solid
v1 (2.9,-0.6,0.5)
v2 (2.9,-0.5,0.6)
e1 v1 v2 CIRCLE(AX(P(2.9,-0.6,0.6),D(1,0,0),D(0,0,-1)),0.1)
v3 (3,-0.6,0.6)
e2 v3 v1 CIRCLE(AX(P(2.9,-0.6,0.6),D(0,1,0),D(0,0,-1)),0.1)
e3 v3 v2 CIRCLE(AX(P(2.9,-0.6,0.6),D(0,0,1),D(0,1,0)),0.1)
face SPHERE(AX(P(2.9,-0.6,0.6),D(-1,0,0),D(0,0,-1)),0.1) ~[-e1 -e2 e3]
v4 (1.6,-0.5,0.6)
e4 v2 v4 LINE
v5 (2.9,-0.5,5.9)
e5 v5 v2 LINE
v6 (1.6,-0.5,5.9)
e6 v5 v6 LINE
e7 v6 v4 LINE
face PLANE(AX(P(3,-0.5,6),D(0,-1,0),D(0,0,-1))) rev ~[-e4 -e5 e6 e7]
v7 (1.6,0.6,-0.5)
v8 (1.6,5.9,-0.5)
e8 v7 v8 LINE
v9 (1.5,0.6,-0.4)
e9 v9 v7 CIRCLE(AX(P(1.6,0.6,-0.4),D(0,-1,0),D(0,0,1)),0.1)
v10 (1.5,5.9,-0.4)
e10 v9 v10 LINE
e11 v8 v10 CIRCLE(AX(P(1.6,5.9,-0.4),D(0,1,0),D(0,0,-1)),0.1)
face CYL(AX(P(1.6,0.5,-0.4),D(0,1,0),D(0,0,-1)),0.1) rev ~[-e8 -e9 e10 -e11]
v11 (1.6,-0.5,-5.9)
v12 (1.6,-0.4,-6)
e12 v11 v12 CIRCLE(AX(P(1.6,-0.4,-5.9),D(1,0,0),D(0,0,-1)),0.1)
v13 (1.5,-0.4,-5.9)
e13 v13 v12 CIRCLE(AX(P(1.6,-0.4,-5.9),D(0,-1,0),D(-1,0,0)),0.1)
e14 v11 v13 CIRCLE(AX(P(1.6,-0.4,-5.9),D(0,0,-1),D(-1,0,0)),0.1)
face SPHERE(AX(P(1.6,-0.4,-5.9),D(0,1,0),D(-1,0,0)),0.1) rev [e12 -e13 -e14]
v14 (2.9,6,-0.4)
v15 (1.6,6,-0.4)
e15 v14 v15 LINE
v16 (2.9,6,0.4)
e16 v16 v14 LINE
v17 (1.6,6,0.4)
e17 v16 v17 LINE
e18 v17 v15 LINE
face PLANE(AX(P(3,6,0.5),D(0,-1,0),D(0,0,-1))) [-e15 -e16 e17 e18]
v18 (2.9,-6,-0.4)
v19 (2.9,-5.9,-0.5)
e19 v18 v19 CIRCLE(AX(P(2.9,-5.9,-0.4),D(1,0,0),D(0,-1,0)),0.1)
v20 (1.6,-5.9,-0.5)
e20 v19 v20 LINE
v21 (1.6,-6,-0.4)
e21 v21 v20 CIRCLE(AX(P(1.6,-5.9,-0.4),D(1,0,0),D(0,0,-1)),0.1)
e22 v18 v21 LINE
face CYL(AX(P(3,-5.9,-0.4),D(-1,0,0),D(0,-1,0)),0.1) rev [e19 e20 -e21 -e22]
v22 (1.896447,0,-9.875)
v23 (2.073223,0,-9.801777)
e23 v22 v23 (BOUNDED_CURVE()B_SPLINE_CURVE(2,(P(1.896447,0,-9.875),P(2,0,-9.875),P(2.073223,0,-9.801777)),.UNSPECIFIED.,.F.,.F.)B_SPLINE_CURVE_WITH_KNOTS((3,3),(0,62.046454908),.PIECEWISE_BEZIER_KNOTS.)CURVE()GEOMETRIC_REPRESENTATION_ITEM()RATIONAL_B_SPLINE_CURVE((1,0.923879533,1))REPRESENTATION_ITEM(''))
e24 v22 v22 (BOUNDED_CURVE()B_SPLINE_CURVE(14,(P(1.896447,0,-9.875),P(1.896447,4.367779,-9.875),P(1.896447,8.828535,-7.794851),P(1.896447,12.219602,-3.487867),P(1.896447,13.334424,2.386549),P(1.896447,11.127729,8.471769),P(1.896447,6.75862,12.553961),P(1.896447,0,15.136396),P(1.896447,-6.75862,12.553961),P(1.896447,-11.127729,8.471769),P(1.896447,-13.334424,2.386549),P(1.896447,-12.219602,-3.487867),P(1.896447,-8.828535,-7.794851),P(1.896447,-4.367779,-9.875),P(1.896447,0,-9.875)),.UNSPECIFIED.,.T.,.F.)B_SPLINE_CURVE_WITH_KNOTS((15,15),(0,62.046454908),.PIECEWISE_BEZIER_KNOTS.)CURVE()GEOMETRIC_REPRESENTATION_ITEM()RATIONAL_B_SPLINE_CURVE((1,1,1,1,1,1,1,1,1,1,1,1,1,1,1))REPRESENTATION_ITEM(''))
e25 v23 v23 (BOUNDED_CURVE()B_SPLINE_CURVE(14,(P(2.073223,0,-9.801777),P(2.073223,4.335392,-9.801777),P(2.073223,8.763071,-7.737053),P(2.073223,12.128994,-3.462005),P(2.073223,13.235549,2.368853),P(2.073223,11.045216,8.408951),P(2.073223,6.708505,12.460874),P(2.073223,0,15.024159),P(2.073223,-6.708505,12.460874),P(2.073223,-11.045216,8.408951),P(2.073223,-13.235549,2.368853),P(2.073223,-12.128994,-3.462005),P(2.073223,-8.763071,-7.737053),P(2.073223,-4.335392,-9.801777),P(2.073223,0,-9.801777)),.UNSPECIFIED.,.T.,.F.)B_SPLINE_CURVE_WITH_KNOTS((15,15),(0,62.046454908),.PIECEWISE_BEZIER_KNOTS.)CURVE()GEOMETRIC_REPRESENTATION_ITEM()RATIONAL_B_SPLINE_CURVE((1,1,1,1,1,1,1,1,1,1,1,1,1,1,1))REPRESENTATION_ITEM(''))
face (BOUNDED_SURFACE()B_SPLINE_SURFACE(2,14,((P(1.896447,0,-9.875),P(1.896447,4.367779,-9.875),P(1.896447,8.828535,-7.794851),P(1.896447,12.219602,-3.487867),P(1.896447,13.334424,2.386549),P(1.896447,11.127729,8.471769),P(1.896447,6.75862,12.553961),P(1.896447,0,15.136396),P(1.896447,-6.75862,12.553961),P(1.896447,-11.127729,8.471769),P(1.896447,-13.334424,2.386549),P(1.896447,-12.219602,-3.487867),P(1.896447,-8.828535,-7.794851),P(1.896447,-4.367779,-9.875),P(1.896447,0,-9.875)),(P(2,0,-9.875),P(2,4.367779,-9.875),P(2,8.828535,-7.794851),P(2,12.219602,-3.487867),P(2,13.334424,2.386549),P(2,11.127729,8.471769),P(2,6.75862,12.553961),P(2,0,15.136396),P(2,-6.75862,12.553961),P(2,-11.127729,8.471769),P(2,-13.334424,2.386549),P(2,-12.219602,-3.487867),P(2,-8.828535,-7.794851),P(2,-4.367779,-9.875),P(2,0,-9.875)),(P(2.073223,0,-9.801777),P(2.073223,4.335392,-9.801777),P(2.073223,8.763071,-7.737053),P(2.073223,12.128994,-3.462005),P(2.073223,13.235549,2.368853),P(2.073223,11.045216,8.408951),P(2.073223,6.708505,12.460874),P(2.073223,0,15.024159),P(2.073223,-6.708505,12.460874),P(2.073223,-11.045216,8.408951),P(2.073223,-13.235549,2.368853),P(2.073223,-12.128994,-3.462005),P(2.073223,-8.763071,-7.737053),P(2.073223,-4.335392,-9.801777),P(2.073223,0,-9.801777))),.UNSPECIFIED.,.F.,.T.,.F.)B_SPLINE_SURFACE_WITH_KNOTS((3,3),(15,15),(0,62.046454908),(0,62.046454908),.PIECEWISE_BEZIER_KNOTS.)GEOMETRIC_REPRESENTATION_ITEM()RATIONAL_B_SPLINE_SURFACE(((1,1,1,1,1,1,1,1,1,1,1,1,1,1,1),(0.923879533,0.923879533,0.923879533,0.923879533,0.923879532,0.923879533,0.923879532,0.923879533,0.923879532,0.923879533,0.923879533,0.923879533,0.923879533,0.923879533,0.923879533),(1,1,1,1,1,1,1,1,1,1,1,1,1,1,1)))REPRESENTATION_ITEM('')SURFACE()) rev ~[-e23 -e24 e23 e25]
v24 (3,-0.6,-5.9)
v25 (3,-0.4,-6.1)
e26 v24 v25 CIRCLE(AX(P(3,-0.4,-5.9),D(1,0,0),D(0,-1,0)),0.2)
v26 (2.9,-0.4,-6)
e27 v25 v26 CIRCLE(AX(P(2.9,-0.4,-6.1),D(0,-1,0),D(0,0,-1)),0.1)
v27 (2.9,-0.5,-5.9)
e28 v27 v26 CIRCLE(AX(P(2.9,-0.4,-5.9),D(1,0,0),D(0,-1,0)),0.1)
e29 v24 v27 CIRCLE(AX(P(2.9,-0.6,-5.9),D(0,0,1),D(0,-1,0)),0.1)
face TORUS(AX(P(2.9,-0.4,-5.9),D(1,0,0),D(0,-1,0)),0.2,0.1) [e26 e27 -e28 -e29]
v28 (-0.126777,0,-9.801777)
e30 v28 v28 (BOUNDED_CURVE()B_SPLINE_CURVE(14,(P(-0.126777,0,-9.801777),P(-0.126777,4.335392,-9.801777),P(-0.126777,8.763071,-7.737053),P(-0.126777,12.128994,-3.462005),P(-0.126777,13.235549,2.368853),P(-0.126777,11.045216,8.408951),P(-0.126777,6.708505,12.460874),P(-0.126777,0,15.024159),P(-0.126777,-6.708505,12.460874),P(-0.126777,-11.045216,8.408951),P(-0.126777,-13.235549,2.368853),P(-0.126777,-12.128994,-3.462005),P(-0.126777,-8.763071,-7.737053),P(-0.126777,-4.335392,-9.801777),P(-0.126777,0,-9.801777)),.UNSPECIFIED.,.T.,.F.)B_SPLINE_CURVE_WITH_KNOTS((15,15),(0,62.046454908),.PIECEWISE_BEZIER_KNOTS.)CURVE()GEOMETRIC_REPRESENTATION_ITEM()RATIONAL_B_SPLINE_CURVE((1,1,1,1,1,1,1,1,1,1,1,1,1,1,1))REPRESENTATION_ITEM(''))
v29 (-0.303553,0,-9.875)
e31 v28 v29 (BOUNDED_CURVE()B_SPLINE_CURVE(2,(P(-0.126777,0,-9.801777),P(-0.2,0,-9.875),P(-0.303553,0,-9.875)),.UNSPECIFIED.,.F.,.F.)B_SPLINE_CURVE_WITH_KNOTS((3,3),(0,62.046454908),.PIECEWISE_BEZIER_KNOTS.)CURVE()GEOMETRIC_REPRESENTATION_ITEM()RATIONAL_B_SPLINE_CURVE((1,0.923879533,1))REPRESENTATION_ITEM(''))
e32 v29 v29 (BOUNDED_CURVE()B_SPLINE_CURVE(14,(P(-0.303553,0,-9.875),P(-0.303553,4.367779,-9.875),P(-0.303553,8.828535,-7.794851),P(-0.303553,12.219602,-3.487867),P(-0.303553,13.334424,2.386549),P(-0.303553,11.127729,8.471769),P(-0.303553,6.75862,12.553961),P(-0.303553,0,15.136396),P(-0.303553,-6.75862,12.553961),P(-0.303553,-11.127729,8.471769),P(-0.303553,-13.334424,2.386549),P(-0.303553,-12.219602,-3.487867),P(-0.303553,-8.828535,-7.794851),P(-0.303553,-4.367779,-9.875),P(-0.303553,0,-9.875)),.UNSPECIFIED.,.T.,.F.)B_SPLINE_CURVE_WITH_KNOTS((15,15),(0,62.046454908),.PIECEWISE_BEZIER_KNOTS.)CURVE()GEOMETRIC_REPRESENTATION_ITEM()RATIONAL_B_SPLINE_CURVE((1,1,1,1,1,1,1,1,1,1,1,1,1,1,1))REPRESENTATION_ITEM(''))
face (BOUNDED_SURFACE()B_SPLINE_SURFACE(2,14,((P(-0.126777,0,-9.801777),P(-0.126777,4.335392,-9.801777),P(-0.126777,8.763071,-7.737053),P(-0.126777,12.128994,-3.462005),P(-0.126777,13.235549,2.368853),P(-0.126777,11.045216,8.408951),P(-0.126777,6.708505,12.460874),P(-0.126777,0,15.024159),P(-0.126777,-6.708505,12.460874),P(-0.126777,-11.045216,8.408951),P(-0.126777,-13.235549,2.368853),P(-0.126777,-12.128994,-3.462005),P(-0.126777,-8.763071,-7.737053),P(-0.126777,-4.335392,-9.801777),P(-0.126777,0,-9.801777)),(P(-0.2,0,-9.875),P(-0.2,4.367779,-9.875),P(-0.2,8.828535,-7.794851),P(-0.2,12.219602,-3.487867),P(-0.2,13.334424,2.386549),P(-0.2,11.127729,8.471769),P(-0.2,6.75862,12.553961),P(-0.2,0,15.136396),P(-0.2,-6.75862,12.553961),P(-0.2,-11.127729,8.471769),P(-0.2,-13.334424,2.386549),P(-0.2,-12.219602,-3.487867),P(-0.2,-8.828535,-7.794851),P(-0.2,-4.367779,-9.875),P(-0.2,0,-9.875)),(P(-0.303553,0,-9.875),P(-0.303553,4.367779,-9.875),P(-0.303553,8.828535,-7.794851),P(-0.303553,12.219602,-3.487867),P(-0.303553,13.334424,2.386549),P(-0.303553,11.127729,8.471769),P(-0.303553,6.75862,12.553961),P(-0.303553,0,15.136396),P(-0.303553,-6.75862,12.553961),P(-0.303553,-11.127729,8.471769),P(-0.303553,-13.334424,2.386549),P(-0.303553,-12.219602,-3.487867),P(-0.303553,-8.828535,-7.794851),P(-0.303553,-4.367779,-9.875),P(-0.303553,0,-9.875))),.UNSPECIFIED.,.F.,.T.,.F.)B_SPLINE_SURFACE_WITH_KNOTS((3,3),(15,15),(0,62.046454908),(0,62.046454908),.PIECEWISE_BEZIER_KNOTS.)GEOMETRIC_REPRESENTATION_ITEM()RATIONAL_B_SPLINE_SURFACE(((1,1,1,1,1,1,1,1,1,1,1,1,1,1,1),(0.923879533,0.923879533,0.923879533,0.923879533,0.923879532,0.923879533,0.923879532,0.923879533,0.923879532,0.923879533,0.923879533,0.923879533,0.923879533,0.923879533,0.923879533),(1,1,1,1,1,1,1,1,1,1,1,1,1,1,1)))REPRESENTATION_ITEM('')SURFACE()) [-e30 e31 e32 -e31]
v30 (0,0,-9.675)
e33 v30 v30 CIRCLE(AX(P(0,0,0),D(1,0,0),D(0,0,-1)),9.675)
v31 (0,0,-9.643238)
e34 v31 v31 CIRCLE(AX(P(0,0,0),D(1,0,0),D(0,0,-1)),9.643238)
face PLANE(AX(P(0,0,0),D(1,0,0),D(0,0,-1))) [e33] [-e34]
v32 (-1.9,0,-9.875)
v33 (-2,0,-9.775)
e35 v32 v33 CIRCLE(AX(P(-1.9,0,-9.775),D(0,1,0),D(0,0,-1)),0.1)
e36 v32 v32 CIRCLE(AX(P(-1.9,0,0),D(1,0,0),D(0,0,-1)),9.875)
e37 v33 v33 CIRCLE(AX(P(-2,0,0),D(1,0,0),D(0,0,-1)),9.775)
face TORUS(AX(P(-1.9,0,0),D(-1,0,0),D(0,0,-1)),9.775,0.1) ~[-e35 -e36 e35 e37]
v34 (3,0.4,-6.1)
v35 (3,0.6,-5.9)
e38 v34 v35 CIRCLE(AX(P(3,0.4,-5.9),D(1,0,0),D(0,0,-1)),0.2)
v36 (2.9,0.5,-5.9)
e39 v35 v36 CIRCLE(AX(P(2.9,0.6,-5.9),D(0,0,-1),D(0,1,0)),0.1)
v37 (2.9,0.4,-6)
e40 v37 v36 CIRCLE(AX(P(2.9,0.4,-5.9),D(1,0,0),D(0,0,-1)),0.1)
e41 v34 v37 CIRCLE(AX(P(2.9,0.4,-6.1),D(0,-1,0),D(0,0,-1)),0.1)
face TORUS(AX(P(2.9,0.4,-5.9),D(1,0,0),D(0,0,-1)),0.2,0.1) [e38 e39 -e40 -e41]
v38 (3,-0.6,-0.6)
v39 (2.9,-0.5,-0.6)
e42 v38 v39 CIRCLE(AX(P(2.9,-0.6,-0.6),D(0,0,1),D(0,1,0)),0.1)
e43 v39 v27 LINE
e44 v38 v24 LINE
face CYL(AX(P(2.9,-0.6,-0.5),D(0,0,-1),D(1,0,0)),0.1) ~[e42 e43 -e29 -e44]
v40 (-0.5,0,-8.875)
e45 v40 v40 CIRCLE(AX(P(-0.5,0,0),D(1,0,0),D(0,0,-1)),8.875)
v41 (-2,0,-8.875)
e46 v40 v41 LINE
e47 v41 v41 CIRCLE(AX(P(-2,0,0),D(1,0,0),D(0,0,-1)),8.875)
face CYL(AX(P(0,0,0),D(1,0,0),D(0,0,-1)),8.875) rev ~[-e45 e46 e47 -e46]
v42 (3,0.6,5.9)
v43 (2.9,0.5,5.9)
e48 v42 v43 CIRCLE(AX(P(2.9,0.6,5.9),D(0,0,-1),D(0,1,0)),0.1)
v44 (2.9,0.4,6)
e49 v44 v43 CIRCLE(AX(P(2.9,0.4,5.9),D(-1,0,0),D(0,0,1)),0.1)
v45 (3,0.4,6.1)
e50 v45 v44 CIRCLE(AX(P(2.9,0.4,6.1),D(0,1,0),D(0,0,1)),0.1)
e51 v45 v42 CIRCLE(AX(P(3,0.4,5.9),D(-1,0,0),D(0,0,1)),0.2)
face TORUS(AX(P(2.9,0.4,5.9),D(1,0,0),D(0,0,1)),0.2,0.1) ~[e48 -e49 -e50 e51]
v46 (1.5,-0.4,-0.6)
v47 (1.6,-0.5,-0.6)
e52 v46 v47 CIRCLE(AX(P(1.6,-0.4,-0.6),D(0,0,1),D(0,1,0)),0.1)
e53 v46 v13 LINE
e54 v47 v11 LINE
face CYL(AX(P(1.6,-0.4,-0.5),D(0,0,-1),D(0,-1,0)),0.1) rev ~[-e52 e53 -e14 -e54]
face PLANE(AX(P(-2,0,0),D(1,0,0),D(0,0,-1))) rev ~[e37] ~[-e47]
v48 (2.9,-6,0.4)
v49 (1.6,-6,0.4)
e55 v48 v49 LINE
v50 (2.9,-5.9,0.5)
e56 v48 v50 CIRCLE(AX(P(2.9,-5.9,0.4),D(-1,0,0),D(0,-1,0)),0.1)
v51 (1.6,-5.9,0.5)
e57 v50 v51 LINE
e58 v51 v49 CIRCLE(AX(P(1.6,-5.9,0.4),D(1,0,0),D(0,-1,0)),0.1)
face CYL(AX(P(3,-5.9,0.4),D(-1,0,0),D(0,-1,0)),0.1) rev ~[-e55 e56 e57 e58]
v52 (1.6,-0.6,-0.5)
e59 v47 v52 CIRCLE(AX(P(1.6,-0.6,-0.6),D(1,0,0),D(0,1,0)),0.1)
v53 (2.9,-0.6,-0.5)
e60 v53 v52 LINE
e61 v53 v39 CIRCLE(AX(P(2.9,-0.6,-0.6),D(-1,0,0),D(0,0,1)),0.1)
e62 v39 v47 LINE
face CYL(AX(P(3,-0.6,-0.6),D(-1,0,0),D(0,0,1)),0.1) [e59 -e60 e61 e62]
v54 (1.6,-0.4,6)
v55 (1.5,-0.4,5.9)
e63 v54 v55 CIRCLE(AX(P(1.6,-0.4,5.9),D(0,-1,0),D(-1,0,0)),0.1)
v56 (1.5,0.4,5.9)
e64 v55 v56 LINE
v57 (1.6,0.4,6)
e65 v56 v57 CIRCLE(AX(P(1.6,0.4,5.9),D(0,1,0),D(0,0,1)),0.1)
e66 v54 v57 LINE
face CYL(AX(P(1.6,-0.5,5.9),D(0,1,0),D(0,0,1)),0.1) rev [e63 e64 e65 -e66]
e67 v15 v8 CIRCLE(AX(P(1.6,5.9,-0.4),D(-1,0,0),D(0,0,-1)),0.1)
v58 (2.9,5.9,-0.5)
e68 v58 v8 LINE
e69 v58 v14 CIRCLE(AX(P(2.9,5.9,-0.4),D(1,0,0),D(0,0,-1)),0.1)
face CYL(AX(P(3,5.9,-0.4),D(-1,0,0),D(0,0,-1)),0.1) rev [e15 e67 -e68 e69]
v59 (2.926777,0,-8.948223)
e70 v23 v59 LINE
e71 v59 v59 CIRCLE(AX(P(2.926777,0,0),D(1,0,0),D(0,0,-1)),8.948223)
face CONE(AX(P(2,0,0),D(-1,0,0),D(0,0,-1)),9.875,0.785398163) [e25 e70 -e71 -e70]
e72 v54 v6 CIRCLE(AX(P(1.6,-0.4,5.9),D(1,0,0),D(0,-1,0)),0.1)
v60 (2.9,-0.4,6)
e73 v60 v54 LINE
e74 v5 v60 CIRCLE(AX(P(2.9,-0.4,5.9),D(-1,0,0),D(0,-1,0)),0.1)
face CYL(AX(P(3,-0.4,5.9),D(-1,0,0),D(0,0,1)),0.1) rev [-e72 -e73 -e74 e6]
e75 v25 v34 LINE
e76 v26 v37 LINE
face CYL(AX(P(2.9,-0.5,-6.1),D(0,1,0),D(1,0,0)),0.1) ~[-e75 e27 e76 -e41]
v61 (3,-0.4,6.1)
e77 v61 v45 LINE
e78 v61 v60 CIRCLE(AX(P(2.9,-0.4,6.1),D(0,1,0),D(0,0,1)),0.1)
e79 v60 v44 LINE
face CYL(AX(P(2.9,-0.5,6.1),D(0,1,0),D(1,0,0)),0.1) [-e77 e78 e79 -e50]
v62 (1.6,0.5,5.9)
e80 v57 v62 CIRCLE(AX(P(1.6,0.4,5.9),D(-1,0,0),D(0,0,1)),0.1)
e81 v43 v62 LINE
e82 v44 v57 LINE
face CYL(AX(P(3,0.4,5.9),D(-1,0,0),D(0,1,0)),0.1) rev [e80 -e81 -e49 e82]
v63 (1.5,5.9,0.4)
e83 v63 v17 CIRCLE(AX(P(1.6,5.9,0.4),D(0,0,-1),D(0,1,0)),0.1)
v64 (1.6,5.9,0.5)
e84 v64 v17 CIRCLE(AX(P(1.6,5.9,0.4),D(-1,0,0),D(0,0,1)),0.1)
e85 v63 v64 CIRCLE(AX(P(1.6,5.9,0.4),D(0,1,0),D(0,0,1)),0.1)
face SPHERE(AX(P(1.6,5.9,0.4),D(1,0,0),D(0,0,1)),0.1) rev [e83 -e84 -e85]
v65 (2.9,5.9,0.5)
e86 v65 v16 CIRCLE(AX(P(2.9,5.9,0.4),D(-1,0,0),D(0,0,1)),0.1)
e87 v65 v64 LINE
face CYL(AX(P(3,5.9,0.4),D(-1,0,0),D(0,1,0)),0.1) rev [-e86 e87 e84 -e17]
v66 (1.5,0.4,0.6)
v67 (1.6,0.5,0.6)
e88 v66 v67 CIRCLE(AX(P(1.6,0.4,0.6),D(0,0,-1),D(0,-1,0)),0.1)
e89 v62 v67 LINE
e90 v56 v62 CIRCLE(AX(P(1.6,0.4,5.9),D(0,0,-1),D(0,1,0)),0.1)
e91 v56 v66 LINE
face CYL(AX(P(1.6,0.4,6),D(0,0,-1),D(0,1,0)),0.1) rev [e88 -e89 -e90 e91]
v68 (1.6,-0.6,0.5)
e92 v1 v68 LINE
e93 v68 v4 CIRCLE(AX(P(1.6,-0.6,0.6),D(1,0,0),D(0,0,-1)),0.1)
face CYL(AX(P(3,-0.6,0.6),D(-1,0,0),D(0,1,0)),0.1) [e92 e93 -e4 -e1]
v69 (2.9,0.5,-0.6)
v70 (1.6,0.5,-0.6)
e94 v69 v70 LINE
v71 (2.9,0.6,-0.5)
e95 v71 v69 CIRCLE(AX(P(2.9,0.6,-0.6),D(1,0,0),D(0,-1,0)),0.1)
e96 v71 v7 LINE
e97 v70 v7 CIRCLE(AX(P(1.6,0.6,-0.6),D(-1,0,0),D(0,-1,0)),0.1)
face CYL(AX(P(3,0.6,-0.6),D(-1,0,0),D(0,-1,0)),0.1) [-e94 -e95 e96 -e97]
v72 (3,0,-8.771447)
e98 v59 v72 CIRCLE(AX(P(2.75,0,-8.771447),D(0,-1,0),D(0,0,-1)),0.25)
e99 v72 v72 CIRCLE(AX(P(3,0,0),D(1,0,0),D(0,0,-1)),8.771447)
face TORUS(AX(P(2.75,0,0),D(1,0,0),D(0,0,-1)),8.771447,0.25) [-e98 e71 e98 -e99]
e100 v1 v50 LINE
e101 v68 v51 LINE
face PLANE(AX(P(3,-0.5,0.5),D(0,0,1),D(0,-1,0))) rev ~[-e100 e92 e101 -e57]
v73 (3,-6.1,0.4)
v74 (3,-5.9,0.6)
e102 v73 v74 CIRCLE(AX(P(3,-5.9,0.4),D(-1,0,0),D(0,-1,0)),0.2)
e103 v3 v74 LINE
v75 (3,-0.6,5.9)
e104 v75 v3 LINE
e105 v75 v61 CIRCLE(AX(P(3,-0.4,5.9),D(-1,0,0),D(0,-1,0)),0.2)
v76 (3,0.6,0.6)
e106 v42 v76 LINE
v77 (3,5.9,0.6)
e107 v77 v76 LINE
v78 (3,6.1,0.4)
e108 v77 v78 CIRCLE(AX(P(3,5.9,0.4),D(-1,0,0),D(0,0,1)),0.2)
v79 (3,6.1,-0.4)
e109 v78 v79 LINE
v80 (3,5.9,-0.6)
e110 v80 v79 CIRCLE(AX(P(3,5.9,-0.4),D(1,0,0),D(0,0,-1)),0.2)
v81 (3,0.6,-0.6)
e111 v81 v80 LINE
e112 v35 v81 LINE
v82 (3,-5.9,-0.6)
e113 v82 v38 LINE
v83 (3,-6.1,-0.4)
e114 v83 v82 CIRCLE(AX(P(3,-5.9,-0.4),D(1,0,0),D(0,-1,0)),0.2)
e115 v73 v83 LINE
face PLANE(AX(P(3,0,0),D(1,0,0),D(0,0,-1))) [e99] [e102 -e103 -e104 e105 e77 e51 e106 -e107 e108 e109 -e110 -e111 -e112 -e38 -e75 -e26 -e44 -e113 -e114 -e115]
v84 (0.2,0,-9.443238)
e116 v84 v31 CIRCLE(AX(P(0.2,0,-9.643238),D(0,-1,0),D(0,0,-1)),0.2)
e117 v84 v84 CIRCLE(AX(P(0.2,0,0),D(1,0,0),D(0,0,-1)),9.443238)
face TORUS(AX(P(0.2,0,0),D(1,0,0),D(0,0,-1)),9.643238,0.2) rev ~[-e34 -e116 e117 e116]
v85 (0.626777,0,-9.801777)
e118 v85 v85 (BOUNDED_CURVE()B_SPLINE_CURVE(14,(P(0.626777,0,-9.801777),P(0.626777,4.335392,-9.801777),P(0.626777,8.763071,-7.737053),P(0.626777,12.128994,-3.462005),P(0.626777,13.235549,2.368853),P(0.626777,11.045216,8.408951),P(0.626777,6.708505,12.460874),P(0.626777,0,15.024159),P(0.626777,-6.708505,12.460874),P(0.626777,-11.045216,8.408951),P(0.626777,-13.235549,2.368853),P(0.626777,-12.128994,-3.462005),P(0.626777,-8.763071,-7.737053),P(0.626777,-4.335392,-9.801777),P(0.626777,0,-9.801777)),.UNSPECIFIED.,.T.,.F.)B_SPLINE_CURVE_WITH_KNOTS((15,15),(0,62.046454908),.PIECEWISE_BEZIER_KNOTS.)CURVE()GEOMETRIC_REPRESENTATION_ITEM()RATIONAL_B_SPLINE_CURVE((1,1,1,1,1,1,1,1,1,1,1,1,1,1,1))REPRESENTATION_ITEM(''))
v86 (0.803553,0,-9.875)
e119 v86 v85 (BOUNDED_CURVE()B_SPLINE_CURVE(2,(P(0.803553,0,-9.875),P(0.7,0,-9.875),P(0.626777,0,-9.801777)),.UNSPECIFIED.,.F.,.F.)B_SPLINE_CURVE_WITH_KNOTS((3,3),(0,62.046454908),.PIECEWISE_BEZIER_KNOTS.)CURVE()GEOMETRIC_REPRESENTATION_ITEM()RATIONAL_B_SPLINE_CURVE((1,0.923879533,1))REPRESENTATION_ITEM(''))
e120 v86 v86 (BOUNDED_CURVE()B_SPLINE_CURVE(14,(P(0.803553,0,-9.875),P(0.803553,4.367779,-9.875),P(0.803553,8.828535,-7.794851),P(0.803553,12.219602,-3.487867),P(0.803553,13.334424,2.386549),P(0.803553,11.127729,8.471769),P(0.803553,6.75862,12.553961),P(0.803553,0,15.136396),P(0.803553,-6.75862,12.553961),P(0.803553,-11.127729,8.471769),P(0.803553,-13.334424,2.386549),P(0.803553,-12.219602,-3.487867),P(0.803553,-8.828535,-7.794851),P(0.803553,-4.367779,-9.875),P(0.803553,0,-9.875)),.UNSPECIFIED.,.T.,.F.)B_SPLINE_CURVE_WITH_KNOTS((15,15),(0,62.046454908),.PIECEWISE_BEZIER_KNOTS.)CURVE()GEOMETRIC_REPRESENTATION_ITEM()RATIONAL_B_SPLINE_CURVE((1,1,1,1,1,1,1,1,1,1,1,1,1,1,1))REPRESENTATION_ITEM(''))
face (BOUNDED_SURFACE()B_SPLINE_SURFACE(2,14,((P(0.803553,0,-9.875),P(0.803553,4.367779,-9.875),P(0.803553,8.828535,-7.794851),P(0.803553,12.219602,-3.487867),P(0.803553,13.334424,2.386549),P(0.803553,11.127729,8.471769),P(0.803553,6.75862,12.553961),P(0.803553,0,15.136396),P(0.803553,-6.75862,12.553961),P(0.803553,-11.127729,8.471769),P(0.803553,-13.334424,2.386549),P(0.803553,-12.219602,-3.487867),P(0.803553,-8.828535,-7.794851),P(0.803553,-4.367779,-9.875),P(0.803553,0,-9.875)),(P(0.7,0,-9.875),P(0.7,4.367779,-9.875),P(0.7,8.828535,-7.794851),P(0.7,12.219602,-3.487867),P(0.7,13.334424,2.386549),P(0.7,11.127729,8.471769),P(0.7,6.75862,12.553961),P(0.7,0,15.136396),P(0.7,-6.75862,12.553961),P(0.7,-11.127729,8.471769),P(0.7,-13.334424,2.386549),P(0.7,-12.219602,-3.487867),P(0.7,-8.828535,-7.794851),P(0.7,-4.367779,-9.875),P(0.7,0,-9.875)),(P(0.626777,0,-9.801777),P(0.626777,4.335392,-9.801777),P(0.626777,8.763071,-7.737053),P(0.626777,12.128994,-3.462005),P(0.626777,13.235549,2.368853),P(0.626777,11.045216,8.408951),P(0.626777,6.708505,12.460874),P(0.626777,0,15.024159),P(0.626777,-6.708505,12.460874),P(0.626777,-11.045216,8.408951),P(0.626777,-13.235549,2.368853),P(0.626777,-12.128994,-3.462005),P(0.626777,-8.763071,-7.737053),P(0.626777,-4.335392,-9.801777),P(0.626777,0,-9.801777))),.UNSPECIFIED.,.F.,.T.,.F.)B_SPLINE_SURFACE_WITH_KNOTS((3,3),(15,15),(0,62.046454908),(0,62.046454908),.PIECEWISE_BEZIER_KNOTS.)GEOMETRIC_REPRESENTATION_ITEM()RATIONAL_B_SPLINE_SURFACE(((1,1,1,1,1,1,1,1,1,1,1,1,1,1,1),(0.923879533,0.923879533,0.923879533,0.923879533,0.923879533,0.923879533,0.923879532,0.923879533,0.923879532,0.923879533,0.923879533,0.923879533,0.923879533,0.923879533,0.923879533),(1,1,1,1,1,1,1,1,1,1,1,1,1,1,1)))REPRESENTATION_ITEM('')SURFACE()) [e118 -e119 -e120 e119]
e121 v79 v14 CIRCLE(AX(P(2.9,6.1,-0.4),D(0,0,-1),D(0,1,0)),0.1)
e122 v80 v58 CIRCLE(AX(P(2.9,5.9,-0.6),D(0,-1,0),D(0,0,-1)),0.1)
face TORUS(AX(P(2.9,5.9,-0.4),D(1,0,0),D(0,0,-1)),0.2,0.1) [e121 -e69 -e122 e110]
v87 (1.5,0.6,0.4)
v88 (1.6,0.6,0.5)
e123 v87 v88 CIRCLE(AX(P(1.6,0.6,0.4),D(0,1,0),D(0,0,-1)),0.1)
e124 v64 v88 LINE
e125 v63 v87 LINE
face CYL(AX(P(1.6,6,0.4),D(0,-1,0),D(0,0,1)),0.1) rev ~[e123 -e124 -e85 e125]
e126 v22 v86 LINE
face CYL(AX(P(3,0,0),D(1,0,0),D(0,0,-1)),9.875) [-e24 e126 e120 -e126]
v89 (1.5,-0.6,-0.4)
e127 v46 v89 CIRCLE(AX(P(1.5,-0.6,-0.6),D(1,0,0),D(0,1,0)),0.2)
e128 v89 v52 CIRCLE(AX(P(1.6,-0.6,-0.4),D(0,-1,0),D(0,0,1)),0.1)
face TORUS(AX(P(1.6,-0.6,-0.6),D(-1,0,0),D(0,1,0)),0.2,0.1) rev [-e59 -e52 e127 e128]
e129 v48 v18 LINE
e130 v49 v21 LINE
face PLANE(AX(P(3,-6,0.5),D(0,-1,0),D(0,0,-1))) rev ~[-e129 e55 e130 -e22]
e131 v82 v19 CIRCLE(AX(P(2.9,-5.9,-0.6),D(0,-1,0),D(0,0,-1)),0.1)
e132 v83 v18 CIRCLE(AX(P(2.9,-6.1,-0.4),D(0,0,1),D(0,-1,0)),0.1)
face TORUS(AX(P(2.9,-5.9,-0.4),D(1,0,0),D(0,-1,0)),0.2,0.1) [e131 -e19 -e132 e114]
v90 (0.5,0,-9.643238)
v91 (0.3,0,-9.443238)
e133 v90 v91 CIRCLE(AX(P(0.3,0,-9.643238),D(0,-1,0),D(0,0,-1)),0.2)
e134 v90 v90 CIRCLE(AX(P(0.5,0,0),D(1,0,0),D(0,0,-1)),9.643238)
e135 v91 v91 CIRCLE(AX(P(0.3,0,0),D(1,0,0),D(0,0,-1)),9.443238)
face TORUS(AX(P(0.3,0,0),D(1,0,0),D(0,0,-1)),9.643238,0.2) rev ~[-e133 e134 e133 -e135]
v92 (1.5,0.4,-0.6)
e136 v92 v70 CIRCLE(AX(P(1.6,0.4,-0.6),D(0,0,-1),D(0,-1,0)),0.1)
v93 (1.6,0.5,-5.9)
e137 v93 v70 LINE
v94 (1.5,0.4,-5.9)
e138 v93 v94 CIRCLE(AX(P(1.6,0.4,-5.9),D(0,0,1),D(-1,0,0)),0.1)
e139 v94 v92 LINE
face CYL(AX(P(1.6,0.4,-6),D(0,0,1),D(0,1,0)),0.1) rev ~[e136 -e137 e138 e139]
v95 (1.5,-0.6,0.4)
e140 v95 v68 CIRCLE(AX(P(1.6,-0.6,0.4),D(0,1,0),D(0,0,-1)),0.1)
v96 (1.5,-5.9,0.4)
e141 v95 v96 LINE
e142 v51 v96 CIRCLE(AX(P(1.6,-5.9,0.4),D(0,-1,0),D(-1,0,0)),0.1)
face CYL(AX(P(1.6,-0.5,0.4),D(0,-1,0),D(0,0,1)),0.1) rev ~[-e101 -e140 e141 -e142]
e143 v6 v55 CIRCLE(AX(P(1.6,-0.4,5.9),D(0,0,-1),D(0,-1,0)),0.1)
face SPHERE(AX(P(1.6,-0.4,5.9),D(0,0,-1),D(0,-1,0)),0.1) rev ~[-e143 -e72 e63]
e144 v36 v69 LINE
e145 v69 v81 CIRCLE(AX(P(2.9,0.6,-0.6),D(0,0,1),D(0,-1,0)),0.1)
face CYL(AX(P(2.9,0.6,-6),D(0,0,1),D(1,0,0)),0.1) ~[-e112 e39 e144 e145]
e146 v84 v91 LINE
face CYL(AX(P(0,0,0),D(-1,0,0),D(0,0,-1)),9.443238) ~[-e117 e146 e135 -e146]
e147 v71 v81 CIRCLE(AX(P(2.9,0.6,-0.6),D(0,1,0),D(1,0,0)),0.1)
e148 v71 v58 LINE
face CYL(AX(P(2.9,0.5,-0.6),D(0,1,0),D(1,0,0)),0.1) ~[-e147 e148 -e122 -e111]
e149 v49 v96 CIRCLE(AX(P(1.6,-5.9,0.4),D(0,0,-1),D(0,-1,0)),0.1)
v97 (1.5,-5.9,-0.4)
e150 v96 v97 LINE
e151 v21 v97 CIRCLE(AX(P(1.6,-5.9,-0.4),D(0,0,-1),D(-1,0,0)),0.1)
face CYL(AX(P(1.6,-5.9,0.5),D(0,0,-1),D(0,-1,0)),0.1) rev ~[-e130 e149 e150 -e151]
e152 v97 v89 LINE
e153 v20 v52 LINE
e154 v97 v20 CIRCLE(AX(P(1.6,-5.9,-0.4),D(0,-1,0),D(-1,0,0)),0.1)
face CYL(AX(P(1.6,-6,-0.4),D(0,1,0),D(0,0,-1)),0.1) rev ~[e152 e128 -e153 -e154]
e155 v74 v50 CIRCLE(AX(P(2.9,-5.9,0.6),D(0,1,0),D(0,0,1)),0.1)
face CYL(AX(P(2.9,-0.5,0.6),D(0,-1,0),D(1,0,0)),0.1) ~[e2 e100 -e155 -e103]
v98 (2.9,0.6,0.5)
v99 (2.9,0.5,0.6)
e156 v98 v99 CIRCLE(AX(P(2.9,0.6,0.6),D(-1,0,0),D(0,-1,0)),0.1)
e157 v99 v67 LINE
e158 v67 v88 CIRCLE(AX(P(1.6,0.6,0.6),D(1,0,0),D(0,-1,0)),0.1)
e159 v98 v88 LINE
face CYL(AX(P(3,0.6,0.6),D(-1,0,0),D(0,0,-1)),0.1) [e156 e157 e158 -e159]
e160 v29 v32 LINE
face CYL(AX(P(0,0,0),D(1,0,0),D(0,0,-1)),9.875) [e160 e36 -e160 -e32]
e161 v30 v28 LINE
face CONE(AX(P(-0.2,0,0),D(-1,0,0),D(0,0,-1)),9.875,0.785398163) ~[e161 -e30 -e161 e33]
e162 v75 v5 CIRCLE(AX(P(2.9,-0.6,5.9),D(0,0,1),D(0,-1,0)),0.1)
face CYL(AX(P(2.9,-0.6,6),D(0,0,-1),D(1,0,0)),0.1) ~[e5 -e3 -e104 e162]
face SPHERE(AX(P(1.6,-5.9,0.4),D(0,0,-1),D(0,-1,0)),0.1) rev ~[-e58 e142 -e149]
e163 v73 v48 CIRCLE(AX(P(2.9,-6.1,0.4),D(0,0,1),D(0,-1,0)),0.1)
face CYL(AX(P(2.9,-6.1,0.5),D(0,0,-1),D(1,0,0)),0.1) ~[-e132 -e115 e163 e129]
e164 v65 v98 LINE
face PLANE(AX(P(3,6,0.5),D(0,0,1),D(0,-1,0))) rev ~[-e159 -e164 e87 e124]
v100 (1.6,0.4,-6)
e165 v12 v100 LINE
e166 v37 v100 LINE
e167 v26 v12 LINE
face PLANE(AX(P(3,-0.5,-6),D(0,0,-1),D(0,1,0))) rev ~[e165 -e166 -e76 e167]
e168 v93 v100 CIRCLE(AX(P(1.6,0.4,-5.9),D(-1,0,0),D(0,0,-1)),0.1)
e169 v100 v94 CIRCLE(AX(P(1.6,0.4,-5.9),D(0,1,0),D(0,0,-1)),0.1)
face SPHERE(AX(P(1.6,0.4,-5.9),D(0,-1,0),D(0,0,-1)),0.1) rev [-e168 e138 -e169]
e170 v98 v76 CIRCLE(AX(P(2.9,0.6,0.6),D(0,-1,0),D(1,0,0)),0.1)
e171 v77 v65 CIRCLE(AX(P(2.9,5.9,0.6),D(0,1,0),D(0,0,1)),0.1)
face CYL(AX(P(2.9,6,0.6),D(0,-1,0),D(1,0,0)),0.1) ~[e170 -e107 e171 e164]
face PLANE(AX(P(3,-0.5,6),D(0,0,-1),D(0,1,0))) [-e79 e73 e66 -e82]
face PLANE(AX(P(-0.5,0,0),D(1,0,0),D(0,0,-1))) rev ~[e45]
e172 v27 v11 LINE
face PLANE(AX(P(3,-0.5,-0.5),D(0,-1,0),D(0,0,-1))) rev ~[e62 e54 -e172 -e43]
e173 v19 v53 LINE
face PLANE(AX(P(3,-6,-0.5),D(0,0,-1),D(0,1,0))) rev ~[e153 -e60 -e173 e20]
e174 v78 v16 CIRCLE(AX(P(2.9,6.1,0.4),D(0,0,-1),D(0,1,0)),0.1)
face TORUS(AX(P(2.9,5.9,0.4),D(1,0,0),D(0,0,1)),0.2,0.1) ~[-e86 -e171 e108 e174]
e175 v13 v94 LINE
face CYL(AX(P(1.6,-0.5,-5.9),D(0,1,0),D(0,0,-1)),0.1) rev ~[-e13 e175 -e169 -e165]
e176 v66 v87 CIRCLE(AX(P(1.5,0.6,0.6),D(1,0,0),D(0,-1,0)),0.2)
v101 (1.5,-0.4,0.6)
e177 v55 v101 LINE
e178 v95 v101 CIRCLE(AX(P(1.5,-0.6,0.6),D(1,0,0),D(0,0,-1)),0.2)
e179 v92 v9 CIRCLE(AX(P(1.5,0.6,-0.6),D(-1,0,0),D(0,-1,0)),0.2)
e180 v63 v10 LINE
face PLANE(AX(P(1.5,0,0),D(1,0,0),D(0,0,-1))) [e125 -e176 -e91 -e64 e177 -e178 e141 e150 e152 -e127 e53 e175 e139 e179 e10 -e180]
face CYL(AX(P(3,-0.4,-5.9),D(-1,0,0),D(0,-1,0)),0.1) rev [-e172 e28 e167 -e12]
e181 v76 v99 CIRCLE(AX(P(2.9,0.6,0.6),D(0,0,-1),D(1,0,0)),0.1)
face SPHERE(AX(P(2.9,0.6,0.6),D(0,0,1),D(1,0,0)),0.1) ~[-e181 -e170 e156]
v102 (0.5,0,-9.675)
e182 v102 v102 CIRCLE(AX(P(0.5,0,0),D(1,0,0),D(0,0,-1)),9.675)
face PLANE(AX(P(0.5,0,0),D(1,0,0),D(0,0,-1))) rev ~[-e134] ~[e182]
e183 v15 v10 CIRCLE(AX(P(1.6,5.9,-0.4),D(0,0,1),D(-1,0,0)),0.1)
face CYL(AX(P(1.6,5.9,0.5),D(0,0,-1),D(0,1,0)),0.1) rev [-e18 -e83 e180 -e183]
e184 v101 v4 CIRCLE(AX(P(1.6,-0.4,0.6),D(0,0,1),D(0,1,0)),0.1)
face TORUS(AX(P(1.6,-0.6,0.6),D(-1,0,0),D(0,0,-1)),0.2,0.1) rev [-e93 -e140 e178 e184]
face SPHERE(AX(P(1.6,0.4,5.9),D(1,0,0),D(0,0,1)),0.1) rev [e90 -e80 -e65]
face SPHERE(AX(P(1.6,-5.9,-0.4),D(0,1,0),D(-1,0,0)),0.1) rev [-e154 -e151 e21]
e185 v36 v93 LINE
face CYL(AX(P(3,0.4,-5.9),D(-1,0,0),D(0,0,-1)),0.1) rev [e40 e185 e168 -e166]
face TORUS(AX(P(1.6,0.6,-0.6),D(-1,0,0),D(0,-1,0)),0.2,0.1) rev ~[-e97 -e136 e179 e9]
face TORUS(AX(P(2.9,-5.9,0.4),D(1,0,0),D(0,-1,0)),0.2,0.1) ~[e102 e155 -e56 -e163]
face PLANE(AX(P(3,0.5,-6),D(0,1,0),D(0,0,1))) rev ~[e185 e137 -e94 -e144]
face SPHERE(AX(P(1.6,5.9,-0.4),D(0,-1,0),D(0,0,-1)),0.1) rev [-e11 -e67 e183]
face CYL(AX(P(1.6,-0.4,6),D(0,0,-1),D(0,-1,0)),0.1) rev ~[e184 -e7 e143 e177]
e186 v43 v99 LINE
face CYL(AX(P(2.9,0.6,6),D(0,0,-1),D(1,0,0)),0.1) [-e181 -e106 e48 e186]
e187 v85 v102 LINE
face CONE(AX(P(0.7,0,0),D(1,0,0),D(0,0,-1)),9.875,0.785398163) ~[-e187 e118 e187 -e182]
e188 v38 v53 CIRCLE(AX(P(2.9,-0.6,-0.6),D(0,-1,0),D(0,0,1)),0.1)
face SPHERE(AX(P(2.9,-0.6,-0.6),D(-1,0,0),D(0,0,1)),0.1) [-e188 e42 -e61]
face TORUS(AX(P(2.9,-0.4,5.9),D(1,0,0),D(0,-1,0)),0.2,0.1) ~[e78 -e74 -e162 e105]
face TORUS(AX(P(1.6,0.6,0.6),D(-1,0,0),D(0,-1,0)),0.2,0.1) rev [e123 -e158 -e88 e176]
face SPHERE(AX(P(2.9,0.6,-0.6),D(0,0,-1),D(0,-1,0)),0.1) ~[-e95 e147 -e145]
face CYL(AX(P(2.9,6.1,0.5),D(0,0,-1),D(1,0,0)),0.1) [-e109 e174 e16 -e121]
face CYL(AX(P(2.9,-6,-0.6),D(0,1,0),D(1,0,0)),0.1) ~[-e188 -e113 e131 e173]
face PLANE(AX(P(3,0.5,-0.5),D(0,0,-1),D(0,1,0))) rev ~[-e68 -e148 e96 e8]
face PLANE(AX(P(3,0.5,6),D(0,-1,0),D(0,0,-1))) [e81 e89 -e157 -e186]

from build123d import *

# Parameters (mm, degrees)
SKETCH1_R           = 9.875
SKETCH1_R_2         = 8.875
BOSS_EXTRUDE1_DEPTH = 2
SKETCH2_R           = 8.875
BOSS_EXTRUDE2_DEPTH = 0.5
SKETCH3_R           = 9.443237681
BOSS_EXTRUDE4_DEPTH = 0.5
BOSS_EXTRUDE5_START = 2.5
SKETCH4_R           = 9.875
BOSS_EXTRUDE5_DEPTH = 2.5
CHAMFER1_SIZE       = 0.2
FILLET1_R           = 0.2
CHAMFER2_SIZE       = 1
FILLET3_R           = 0.25
FILLET4_R           = 0.25
SKETCH5_W           = 1
SKETCH5_H           = 1
SKETCH5_H_2         = 5.5
SKETCH5_W_2         = 5.5
CUT_EXTRUDE1_DEPTH  = 1.5
FILLET5_R           = 0.1
FILLET6_R           = 0.1


with BuildPart() as part:
    # Sketch1 → Boss-Extrude1 (new body)
    with BuildSketch(Plane(origin=(0, 0, 0), x_dir=(0, 0, -1), z_dir=(1, 0, 0))):
        Circle(SKETCH1_R)
        Circle(SKETCH1_R_2, mode=Mode.SUBTRACT)
    extrude(amount=-BOSS_EXTRUDE1_DEPTH)

    # Sketch2 → Boss-Extrude2 (add)
    with BuildSketch(Plane(origin=(0, 0, 0), x_dir=(0, 0, -1), z_dir=(1, 0, 0))):
        Circle(SKETCH2_R)
    extrude(amount=-BOSS_EXTRUDE2_DEPTH)

    # Sketch3 → Boss-Extrude4 (add)
    with BuildSketch(Plane(origin=(0, 0, 0), x_dir=(0, 0, -1), z_dir=(1, 0, 0))):
        Circle(SKETCH3_R)
    extrude(amount=BOSS_EXTRUDE4_DEPTH)

    # Sketch4 → Boss-Extrude5 (add)
    with BuildSketch(Plane(origin=(0.5, 0, 0), x_dir=(0, 0, -1), z_dir=(1, 0, 0)).offset(BOSS_EXTRUDE5_START)):
        Circle(SKETCH4_R)
    extrude(amount=-BOSS_EXTRUDE5_DEPTH)

    # Chamfer1
    chamfer1_edges = [part.edges().sort_by_distance(p)[0] for p in [
        (0, 0, 9.875),
        (0.5, 0, 9.875),
    ]]
    chamfer(chamfer1_edges, length=CHAMFER1_SIZE)

    # Fillet1
    fillet1_edges = [part.edges().sort_by_distance(p)[0] for p in [
        (0, 0, 9.443237681),
        (0.5, 0, 9.443237681),
    ]]
    fillet(fillet1_edges, radius=FILLET1_R)

    # Chamfer2
    chamfer2_edges = [part.edges().sort_by_distance(p)[0] for p in [
        (3, 0, 9.875),
    ]]
    chamfer(chamfer2_edges, length=CHAMFER2_SIZE)

    # Fillet3
    fillet3_edges = [part.edges().sort_by_distance(p)[0] for p in [
        (3, 0, 8.875),
        (2, 0, 9.875),
    ]]
    fillet(fillet3_edges, radius=FILLET3_R)

    # Fillet4
    fillet4_edges = [part.edges().sort_by_distance(p)[0] for p in [
        (0.7, 0, 9.875),
        (-0.2, 0, 9.875),
    ]]
    fillet(fillet4_edges, radius=FILLET4_R)

    # Sketch5 → Cut-Extrude1 (cut)
    with BuildSketch(Plane(origin=(3, 0, 0), x_dir=(0, 0, -1), z_dir=(1, 0, 0))):
        Rectangle(SKETCH5_W, SKETCH5_H)
        with Locations((0, -3.25)):
            Rectangle(SKETCH5_W, SKETCH5_H_2)
        with Locations((3.25, 0)):
            Rectangle(SKETCH5_W_2, SKETCH5_H)
        with Locations((0, 3.25)):
            Rectangle(SKETCH5_W, SKETCH5_H_2)
        with Locations((-3.25, 0)):
            Rectangle(SKETCH5_W_2, SKETCH5_H)
    extrude(amount=-CUT_EXTRUDE1_DEPTH, mode=Mode.SUBTRACT)

    # Fillet5
    fillet5_edges = [part.edges().sort_by_distance(p)[0] for p in [
        (1.5, -0.5, 3.25),
        (2.25, -0.5, 0.5),
        (3, 0, 6),
        (2.25, -0.5, 6),
        (3, 0.5, 3.25),
        (2.25, 0.5, 6),
        (3, 3.25, 0.5),
        (2.25, 0.5, 0.5),
        (3, 6, 0),
        (2.25, 6, 0.5),
        (1.5, 3.25, -0.5),
        (2.25, 6, -0.5),
        (3, 0.5, -3.25),
        (2.25, 0.5, -0.5),
        (1.5, 0, -6),
        (2.25, 0.5, -6),
        (1.5, -0.5, -3.25),
        (2.25, -0.5, -6),
        (1.5, -3.25, -0.5),
        (2.25, -0.5, -0.5),
        (1.5, -6, 0),
        (2.25, -6, -0.5),
        (3, -3.25, 0.5),
        (2.25, -6, 0.5),
        (1.5, 0, 6),
        (1.5, 0.5, 3.25),
        (1.5, 3.25, 0.5),
        (1.5, 6, 0),
        (1.5, 0.5, -3.25),
        (1.5, -3.25, 0.5),
        (3, -0.5, 3.25),
        (3, -6, 0),
        (3, -3.25, -0.5),
        (3, -0.5, -3.25),
        (3, 0, -6),
        (3, 3.25, -0.5),
    ]]
    fillet(fillet5_edges, radius=FILLET5_R)

    # Fillet6
    fillet6_edges = [part.edges().sort_by_distance(p)[0] for p in [
        (-2, 0, 9.875),
    ]]
    fillet(fillet6_edges, radius=FILLET6_R)


solid = part.part
